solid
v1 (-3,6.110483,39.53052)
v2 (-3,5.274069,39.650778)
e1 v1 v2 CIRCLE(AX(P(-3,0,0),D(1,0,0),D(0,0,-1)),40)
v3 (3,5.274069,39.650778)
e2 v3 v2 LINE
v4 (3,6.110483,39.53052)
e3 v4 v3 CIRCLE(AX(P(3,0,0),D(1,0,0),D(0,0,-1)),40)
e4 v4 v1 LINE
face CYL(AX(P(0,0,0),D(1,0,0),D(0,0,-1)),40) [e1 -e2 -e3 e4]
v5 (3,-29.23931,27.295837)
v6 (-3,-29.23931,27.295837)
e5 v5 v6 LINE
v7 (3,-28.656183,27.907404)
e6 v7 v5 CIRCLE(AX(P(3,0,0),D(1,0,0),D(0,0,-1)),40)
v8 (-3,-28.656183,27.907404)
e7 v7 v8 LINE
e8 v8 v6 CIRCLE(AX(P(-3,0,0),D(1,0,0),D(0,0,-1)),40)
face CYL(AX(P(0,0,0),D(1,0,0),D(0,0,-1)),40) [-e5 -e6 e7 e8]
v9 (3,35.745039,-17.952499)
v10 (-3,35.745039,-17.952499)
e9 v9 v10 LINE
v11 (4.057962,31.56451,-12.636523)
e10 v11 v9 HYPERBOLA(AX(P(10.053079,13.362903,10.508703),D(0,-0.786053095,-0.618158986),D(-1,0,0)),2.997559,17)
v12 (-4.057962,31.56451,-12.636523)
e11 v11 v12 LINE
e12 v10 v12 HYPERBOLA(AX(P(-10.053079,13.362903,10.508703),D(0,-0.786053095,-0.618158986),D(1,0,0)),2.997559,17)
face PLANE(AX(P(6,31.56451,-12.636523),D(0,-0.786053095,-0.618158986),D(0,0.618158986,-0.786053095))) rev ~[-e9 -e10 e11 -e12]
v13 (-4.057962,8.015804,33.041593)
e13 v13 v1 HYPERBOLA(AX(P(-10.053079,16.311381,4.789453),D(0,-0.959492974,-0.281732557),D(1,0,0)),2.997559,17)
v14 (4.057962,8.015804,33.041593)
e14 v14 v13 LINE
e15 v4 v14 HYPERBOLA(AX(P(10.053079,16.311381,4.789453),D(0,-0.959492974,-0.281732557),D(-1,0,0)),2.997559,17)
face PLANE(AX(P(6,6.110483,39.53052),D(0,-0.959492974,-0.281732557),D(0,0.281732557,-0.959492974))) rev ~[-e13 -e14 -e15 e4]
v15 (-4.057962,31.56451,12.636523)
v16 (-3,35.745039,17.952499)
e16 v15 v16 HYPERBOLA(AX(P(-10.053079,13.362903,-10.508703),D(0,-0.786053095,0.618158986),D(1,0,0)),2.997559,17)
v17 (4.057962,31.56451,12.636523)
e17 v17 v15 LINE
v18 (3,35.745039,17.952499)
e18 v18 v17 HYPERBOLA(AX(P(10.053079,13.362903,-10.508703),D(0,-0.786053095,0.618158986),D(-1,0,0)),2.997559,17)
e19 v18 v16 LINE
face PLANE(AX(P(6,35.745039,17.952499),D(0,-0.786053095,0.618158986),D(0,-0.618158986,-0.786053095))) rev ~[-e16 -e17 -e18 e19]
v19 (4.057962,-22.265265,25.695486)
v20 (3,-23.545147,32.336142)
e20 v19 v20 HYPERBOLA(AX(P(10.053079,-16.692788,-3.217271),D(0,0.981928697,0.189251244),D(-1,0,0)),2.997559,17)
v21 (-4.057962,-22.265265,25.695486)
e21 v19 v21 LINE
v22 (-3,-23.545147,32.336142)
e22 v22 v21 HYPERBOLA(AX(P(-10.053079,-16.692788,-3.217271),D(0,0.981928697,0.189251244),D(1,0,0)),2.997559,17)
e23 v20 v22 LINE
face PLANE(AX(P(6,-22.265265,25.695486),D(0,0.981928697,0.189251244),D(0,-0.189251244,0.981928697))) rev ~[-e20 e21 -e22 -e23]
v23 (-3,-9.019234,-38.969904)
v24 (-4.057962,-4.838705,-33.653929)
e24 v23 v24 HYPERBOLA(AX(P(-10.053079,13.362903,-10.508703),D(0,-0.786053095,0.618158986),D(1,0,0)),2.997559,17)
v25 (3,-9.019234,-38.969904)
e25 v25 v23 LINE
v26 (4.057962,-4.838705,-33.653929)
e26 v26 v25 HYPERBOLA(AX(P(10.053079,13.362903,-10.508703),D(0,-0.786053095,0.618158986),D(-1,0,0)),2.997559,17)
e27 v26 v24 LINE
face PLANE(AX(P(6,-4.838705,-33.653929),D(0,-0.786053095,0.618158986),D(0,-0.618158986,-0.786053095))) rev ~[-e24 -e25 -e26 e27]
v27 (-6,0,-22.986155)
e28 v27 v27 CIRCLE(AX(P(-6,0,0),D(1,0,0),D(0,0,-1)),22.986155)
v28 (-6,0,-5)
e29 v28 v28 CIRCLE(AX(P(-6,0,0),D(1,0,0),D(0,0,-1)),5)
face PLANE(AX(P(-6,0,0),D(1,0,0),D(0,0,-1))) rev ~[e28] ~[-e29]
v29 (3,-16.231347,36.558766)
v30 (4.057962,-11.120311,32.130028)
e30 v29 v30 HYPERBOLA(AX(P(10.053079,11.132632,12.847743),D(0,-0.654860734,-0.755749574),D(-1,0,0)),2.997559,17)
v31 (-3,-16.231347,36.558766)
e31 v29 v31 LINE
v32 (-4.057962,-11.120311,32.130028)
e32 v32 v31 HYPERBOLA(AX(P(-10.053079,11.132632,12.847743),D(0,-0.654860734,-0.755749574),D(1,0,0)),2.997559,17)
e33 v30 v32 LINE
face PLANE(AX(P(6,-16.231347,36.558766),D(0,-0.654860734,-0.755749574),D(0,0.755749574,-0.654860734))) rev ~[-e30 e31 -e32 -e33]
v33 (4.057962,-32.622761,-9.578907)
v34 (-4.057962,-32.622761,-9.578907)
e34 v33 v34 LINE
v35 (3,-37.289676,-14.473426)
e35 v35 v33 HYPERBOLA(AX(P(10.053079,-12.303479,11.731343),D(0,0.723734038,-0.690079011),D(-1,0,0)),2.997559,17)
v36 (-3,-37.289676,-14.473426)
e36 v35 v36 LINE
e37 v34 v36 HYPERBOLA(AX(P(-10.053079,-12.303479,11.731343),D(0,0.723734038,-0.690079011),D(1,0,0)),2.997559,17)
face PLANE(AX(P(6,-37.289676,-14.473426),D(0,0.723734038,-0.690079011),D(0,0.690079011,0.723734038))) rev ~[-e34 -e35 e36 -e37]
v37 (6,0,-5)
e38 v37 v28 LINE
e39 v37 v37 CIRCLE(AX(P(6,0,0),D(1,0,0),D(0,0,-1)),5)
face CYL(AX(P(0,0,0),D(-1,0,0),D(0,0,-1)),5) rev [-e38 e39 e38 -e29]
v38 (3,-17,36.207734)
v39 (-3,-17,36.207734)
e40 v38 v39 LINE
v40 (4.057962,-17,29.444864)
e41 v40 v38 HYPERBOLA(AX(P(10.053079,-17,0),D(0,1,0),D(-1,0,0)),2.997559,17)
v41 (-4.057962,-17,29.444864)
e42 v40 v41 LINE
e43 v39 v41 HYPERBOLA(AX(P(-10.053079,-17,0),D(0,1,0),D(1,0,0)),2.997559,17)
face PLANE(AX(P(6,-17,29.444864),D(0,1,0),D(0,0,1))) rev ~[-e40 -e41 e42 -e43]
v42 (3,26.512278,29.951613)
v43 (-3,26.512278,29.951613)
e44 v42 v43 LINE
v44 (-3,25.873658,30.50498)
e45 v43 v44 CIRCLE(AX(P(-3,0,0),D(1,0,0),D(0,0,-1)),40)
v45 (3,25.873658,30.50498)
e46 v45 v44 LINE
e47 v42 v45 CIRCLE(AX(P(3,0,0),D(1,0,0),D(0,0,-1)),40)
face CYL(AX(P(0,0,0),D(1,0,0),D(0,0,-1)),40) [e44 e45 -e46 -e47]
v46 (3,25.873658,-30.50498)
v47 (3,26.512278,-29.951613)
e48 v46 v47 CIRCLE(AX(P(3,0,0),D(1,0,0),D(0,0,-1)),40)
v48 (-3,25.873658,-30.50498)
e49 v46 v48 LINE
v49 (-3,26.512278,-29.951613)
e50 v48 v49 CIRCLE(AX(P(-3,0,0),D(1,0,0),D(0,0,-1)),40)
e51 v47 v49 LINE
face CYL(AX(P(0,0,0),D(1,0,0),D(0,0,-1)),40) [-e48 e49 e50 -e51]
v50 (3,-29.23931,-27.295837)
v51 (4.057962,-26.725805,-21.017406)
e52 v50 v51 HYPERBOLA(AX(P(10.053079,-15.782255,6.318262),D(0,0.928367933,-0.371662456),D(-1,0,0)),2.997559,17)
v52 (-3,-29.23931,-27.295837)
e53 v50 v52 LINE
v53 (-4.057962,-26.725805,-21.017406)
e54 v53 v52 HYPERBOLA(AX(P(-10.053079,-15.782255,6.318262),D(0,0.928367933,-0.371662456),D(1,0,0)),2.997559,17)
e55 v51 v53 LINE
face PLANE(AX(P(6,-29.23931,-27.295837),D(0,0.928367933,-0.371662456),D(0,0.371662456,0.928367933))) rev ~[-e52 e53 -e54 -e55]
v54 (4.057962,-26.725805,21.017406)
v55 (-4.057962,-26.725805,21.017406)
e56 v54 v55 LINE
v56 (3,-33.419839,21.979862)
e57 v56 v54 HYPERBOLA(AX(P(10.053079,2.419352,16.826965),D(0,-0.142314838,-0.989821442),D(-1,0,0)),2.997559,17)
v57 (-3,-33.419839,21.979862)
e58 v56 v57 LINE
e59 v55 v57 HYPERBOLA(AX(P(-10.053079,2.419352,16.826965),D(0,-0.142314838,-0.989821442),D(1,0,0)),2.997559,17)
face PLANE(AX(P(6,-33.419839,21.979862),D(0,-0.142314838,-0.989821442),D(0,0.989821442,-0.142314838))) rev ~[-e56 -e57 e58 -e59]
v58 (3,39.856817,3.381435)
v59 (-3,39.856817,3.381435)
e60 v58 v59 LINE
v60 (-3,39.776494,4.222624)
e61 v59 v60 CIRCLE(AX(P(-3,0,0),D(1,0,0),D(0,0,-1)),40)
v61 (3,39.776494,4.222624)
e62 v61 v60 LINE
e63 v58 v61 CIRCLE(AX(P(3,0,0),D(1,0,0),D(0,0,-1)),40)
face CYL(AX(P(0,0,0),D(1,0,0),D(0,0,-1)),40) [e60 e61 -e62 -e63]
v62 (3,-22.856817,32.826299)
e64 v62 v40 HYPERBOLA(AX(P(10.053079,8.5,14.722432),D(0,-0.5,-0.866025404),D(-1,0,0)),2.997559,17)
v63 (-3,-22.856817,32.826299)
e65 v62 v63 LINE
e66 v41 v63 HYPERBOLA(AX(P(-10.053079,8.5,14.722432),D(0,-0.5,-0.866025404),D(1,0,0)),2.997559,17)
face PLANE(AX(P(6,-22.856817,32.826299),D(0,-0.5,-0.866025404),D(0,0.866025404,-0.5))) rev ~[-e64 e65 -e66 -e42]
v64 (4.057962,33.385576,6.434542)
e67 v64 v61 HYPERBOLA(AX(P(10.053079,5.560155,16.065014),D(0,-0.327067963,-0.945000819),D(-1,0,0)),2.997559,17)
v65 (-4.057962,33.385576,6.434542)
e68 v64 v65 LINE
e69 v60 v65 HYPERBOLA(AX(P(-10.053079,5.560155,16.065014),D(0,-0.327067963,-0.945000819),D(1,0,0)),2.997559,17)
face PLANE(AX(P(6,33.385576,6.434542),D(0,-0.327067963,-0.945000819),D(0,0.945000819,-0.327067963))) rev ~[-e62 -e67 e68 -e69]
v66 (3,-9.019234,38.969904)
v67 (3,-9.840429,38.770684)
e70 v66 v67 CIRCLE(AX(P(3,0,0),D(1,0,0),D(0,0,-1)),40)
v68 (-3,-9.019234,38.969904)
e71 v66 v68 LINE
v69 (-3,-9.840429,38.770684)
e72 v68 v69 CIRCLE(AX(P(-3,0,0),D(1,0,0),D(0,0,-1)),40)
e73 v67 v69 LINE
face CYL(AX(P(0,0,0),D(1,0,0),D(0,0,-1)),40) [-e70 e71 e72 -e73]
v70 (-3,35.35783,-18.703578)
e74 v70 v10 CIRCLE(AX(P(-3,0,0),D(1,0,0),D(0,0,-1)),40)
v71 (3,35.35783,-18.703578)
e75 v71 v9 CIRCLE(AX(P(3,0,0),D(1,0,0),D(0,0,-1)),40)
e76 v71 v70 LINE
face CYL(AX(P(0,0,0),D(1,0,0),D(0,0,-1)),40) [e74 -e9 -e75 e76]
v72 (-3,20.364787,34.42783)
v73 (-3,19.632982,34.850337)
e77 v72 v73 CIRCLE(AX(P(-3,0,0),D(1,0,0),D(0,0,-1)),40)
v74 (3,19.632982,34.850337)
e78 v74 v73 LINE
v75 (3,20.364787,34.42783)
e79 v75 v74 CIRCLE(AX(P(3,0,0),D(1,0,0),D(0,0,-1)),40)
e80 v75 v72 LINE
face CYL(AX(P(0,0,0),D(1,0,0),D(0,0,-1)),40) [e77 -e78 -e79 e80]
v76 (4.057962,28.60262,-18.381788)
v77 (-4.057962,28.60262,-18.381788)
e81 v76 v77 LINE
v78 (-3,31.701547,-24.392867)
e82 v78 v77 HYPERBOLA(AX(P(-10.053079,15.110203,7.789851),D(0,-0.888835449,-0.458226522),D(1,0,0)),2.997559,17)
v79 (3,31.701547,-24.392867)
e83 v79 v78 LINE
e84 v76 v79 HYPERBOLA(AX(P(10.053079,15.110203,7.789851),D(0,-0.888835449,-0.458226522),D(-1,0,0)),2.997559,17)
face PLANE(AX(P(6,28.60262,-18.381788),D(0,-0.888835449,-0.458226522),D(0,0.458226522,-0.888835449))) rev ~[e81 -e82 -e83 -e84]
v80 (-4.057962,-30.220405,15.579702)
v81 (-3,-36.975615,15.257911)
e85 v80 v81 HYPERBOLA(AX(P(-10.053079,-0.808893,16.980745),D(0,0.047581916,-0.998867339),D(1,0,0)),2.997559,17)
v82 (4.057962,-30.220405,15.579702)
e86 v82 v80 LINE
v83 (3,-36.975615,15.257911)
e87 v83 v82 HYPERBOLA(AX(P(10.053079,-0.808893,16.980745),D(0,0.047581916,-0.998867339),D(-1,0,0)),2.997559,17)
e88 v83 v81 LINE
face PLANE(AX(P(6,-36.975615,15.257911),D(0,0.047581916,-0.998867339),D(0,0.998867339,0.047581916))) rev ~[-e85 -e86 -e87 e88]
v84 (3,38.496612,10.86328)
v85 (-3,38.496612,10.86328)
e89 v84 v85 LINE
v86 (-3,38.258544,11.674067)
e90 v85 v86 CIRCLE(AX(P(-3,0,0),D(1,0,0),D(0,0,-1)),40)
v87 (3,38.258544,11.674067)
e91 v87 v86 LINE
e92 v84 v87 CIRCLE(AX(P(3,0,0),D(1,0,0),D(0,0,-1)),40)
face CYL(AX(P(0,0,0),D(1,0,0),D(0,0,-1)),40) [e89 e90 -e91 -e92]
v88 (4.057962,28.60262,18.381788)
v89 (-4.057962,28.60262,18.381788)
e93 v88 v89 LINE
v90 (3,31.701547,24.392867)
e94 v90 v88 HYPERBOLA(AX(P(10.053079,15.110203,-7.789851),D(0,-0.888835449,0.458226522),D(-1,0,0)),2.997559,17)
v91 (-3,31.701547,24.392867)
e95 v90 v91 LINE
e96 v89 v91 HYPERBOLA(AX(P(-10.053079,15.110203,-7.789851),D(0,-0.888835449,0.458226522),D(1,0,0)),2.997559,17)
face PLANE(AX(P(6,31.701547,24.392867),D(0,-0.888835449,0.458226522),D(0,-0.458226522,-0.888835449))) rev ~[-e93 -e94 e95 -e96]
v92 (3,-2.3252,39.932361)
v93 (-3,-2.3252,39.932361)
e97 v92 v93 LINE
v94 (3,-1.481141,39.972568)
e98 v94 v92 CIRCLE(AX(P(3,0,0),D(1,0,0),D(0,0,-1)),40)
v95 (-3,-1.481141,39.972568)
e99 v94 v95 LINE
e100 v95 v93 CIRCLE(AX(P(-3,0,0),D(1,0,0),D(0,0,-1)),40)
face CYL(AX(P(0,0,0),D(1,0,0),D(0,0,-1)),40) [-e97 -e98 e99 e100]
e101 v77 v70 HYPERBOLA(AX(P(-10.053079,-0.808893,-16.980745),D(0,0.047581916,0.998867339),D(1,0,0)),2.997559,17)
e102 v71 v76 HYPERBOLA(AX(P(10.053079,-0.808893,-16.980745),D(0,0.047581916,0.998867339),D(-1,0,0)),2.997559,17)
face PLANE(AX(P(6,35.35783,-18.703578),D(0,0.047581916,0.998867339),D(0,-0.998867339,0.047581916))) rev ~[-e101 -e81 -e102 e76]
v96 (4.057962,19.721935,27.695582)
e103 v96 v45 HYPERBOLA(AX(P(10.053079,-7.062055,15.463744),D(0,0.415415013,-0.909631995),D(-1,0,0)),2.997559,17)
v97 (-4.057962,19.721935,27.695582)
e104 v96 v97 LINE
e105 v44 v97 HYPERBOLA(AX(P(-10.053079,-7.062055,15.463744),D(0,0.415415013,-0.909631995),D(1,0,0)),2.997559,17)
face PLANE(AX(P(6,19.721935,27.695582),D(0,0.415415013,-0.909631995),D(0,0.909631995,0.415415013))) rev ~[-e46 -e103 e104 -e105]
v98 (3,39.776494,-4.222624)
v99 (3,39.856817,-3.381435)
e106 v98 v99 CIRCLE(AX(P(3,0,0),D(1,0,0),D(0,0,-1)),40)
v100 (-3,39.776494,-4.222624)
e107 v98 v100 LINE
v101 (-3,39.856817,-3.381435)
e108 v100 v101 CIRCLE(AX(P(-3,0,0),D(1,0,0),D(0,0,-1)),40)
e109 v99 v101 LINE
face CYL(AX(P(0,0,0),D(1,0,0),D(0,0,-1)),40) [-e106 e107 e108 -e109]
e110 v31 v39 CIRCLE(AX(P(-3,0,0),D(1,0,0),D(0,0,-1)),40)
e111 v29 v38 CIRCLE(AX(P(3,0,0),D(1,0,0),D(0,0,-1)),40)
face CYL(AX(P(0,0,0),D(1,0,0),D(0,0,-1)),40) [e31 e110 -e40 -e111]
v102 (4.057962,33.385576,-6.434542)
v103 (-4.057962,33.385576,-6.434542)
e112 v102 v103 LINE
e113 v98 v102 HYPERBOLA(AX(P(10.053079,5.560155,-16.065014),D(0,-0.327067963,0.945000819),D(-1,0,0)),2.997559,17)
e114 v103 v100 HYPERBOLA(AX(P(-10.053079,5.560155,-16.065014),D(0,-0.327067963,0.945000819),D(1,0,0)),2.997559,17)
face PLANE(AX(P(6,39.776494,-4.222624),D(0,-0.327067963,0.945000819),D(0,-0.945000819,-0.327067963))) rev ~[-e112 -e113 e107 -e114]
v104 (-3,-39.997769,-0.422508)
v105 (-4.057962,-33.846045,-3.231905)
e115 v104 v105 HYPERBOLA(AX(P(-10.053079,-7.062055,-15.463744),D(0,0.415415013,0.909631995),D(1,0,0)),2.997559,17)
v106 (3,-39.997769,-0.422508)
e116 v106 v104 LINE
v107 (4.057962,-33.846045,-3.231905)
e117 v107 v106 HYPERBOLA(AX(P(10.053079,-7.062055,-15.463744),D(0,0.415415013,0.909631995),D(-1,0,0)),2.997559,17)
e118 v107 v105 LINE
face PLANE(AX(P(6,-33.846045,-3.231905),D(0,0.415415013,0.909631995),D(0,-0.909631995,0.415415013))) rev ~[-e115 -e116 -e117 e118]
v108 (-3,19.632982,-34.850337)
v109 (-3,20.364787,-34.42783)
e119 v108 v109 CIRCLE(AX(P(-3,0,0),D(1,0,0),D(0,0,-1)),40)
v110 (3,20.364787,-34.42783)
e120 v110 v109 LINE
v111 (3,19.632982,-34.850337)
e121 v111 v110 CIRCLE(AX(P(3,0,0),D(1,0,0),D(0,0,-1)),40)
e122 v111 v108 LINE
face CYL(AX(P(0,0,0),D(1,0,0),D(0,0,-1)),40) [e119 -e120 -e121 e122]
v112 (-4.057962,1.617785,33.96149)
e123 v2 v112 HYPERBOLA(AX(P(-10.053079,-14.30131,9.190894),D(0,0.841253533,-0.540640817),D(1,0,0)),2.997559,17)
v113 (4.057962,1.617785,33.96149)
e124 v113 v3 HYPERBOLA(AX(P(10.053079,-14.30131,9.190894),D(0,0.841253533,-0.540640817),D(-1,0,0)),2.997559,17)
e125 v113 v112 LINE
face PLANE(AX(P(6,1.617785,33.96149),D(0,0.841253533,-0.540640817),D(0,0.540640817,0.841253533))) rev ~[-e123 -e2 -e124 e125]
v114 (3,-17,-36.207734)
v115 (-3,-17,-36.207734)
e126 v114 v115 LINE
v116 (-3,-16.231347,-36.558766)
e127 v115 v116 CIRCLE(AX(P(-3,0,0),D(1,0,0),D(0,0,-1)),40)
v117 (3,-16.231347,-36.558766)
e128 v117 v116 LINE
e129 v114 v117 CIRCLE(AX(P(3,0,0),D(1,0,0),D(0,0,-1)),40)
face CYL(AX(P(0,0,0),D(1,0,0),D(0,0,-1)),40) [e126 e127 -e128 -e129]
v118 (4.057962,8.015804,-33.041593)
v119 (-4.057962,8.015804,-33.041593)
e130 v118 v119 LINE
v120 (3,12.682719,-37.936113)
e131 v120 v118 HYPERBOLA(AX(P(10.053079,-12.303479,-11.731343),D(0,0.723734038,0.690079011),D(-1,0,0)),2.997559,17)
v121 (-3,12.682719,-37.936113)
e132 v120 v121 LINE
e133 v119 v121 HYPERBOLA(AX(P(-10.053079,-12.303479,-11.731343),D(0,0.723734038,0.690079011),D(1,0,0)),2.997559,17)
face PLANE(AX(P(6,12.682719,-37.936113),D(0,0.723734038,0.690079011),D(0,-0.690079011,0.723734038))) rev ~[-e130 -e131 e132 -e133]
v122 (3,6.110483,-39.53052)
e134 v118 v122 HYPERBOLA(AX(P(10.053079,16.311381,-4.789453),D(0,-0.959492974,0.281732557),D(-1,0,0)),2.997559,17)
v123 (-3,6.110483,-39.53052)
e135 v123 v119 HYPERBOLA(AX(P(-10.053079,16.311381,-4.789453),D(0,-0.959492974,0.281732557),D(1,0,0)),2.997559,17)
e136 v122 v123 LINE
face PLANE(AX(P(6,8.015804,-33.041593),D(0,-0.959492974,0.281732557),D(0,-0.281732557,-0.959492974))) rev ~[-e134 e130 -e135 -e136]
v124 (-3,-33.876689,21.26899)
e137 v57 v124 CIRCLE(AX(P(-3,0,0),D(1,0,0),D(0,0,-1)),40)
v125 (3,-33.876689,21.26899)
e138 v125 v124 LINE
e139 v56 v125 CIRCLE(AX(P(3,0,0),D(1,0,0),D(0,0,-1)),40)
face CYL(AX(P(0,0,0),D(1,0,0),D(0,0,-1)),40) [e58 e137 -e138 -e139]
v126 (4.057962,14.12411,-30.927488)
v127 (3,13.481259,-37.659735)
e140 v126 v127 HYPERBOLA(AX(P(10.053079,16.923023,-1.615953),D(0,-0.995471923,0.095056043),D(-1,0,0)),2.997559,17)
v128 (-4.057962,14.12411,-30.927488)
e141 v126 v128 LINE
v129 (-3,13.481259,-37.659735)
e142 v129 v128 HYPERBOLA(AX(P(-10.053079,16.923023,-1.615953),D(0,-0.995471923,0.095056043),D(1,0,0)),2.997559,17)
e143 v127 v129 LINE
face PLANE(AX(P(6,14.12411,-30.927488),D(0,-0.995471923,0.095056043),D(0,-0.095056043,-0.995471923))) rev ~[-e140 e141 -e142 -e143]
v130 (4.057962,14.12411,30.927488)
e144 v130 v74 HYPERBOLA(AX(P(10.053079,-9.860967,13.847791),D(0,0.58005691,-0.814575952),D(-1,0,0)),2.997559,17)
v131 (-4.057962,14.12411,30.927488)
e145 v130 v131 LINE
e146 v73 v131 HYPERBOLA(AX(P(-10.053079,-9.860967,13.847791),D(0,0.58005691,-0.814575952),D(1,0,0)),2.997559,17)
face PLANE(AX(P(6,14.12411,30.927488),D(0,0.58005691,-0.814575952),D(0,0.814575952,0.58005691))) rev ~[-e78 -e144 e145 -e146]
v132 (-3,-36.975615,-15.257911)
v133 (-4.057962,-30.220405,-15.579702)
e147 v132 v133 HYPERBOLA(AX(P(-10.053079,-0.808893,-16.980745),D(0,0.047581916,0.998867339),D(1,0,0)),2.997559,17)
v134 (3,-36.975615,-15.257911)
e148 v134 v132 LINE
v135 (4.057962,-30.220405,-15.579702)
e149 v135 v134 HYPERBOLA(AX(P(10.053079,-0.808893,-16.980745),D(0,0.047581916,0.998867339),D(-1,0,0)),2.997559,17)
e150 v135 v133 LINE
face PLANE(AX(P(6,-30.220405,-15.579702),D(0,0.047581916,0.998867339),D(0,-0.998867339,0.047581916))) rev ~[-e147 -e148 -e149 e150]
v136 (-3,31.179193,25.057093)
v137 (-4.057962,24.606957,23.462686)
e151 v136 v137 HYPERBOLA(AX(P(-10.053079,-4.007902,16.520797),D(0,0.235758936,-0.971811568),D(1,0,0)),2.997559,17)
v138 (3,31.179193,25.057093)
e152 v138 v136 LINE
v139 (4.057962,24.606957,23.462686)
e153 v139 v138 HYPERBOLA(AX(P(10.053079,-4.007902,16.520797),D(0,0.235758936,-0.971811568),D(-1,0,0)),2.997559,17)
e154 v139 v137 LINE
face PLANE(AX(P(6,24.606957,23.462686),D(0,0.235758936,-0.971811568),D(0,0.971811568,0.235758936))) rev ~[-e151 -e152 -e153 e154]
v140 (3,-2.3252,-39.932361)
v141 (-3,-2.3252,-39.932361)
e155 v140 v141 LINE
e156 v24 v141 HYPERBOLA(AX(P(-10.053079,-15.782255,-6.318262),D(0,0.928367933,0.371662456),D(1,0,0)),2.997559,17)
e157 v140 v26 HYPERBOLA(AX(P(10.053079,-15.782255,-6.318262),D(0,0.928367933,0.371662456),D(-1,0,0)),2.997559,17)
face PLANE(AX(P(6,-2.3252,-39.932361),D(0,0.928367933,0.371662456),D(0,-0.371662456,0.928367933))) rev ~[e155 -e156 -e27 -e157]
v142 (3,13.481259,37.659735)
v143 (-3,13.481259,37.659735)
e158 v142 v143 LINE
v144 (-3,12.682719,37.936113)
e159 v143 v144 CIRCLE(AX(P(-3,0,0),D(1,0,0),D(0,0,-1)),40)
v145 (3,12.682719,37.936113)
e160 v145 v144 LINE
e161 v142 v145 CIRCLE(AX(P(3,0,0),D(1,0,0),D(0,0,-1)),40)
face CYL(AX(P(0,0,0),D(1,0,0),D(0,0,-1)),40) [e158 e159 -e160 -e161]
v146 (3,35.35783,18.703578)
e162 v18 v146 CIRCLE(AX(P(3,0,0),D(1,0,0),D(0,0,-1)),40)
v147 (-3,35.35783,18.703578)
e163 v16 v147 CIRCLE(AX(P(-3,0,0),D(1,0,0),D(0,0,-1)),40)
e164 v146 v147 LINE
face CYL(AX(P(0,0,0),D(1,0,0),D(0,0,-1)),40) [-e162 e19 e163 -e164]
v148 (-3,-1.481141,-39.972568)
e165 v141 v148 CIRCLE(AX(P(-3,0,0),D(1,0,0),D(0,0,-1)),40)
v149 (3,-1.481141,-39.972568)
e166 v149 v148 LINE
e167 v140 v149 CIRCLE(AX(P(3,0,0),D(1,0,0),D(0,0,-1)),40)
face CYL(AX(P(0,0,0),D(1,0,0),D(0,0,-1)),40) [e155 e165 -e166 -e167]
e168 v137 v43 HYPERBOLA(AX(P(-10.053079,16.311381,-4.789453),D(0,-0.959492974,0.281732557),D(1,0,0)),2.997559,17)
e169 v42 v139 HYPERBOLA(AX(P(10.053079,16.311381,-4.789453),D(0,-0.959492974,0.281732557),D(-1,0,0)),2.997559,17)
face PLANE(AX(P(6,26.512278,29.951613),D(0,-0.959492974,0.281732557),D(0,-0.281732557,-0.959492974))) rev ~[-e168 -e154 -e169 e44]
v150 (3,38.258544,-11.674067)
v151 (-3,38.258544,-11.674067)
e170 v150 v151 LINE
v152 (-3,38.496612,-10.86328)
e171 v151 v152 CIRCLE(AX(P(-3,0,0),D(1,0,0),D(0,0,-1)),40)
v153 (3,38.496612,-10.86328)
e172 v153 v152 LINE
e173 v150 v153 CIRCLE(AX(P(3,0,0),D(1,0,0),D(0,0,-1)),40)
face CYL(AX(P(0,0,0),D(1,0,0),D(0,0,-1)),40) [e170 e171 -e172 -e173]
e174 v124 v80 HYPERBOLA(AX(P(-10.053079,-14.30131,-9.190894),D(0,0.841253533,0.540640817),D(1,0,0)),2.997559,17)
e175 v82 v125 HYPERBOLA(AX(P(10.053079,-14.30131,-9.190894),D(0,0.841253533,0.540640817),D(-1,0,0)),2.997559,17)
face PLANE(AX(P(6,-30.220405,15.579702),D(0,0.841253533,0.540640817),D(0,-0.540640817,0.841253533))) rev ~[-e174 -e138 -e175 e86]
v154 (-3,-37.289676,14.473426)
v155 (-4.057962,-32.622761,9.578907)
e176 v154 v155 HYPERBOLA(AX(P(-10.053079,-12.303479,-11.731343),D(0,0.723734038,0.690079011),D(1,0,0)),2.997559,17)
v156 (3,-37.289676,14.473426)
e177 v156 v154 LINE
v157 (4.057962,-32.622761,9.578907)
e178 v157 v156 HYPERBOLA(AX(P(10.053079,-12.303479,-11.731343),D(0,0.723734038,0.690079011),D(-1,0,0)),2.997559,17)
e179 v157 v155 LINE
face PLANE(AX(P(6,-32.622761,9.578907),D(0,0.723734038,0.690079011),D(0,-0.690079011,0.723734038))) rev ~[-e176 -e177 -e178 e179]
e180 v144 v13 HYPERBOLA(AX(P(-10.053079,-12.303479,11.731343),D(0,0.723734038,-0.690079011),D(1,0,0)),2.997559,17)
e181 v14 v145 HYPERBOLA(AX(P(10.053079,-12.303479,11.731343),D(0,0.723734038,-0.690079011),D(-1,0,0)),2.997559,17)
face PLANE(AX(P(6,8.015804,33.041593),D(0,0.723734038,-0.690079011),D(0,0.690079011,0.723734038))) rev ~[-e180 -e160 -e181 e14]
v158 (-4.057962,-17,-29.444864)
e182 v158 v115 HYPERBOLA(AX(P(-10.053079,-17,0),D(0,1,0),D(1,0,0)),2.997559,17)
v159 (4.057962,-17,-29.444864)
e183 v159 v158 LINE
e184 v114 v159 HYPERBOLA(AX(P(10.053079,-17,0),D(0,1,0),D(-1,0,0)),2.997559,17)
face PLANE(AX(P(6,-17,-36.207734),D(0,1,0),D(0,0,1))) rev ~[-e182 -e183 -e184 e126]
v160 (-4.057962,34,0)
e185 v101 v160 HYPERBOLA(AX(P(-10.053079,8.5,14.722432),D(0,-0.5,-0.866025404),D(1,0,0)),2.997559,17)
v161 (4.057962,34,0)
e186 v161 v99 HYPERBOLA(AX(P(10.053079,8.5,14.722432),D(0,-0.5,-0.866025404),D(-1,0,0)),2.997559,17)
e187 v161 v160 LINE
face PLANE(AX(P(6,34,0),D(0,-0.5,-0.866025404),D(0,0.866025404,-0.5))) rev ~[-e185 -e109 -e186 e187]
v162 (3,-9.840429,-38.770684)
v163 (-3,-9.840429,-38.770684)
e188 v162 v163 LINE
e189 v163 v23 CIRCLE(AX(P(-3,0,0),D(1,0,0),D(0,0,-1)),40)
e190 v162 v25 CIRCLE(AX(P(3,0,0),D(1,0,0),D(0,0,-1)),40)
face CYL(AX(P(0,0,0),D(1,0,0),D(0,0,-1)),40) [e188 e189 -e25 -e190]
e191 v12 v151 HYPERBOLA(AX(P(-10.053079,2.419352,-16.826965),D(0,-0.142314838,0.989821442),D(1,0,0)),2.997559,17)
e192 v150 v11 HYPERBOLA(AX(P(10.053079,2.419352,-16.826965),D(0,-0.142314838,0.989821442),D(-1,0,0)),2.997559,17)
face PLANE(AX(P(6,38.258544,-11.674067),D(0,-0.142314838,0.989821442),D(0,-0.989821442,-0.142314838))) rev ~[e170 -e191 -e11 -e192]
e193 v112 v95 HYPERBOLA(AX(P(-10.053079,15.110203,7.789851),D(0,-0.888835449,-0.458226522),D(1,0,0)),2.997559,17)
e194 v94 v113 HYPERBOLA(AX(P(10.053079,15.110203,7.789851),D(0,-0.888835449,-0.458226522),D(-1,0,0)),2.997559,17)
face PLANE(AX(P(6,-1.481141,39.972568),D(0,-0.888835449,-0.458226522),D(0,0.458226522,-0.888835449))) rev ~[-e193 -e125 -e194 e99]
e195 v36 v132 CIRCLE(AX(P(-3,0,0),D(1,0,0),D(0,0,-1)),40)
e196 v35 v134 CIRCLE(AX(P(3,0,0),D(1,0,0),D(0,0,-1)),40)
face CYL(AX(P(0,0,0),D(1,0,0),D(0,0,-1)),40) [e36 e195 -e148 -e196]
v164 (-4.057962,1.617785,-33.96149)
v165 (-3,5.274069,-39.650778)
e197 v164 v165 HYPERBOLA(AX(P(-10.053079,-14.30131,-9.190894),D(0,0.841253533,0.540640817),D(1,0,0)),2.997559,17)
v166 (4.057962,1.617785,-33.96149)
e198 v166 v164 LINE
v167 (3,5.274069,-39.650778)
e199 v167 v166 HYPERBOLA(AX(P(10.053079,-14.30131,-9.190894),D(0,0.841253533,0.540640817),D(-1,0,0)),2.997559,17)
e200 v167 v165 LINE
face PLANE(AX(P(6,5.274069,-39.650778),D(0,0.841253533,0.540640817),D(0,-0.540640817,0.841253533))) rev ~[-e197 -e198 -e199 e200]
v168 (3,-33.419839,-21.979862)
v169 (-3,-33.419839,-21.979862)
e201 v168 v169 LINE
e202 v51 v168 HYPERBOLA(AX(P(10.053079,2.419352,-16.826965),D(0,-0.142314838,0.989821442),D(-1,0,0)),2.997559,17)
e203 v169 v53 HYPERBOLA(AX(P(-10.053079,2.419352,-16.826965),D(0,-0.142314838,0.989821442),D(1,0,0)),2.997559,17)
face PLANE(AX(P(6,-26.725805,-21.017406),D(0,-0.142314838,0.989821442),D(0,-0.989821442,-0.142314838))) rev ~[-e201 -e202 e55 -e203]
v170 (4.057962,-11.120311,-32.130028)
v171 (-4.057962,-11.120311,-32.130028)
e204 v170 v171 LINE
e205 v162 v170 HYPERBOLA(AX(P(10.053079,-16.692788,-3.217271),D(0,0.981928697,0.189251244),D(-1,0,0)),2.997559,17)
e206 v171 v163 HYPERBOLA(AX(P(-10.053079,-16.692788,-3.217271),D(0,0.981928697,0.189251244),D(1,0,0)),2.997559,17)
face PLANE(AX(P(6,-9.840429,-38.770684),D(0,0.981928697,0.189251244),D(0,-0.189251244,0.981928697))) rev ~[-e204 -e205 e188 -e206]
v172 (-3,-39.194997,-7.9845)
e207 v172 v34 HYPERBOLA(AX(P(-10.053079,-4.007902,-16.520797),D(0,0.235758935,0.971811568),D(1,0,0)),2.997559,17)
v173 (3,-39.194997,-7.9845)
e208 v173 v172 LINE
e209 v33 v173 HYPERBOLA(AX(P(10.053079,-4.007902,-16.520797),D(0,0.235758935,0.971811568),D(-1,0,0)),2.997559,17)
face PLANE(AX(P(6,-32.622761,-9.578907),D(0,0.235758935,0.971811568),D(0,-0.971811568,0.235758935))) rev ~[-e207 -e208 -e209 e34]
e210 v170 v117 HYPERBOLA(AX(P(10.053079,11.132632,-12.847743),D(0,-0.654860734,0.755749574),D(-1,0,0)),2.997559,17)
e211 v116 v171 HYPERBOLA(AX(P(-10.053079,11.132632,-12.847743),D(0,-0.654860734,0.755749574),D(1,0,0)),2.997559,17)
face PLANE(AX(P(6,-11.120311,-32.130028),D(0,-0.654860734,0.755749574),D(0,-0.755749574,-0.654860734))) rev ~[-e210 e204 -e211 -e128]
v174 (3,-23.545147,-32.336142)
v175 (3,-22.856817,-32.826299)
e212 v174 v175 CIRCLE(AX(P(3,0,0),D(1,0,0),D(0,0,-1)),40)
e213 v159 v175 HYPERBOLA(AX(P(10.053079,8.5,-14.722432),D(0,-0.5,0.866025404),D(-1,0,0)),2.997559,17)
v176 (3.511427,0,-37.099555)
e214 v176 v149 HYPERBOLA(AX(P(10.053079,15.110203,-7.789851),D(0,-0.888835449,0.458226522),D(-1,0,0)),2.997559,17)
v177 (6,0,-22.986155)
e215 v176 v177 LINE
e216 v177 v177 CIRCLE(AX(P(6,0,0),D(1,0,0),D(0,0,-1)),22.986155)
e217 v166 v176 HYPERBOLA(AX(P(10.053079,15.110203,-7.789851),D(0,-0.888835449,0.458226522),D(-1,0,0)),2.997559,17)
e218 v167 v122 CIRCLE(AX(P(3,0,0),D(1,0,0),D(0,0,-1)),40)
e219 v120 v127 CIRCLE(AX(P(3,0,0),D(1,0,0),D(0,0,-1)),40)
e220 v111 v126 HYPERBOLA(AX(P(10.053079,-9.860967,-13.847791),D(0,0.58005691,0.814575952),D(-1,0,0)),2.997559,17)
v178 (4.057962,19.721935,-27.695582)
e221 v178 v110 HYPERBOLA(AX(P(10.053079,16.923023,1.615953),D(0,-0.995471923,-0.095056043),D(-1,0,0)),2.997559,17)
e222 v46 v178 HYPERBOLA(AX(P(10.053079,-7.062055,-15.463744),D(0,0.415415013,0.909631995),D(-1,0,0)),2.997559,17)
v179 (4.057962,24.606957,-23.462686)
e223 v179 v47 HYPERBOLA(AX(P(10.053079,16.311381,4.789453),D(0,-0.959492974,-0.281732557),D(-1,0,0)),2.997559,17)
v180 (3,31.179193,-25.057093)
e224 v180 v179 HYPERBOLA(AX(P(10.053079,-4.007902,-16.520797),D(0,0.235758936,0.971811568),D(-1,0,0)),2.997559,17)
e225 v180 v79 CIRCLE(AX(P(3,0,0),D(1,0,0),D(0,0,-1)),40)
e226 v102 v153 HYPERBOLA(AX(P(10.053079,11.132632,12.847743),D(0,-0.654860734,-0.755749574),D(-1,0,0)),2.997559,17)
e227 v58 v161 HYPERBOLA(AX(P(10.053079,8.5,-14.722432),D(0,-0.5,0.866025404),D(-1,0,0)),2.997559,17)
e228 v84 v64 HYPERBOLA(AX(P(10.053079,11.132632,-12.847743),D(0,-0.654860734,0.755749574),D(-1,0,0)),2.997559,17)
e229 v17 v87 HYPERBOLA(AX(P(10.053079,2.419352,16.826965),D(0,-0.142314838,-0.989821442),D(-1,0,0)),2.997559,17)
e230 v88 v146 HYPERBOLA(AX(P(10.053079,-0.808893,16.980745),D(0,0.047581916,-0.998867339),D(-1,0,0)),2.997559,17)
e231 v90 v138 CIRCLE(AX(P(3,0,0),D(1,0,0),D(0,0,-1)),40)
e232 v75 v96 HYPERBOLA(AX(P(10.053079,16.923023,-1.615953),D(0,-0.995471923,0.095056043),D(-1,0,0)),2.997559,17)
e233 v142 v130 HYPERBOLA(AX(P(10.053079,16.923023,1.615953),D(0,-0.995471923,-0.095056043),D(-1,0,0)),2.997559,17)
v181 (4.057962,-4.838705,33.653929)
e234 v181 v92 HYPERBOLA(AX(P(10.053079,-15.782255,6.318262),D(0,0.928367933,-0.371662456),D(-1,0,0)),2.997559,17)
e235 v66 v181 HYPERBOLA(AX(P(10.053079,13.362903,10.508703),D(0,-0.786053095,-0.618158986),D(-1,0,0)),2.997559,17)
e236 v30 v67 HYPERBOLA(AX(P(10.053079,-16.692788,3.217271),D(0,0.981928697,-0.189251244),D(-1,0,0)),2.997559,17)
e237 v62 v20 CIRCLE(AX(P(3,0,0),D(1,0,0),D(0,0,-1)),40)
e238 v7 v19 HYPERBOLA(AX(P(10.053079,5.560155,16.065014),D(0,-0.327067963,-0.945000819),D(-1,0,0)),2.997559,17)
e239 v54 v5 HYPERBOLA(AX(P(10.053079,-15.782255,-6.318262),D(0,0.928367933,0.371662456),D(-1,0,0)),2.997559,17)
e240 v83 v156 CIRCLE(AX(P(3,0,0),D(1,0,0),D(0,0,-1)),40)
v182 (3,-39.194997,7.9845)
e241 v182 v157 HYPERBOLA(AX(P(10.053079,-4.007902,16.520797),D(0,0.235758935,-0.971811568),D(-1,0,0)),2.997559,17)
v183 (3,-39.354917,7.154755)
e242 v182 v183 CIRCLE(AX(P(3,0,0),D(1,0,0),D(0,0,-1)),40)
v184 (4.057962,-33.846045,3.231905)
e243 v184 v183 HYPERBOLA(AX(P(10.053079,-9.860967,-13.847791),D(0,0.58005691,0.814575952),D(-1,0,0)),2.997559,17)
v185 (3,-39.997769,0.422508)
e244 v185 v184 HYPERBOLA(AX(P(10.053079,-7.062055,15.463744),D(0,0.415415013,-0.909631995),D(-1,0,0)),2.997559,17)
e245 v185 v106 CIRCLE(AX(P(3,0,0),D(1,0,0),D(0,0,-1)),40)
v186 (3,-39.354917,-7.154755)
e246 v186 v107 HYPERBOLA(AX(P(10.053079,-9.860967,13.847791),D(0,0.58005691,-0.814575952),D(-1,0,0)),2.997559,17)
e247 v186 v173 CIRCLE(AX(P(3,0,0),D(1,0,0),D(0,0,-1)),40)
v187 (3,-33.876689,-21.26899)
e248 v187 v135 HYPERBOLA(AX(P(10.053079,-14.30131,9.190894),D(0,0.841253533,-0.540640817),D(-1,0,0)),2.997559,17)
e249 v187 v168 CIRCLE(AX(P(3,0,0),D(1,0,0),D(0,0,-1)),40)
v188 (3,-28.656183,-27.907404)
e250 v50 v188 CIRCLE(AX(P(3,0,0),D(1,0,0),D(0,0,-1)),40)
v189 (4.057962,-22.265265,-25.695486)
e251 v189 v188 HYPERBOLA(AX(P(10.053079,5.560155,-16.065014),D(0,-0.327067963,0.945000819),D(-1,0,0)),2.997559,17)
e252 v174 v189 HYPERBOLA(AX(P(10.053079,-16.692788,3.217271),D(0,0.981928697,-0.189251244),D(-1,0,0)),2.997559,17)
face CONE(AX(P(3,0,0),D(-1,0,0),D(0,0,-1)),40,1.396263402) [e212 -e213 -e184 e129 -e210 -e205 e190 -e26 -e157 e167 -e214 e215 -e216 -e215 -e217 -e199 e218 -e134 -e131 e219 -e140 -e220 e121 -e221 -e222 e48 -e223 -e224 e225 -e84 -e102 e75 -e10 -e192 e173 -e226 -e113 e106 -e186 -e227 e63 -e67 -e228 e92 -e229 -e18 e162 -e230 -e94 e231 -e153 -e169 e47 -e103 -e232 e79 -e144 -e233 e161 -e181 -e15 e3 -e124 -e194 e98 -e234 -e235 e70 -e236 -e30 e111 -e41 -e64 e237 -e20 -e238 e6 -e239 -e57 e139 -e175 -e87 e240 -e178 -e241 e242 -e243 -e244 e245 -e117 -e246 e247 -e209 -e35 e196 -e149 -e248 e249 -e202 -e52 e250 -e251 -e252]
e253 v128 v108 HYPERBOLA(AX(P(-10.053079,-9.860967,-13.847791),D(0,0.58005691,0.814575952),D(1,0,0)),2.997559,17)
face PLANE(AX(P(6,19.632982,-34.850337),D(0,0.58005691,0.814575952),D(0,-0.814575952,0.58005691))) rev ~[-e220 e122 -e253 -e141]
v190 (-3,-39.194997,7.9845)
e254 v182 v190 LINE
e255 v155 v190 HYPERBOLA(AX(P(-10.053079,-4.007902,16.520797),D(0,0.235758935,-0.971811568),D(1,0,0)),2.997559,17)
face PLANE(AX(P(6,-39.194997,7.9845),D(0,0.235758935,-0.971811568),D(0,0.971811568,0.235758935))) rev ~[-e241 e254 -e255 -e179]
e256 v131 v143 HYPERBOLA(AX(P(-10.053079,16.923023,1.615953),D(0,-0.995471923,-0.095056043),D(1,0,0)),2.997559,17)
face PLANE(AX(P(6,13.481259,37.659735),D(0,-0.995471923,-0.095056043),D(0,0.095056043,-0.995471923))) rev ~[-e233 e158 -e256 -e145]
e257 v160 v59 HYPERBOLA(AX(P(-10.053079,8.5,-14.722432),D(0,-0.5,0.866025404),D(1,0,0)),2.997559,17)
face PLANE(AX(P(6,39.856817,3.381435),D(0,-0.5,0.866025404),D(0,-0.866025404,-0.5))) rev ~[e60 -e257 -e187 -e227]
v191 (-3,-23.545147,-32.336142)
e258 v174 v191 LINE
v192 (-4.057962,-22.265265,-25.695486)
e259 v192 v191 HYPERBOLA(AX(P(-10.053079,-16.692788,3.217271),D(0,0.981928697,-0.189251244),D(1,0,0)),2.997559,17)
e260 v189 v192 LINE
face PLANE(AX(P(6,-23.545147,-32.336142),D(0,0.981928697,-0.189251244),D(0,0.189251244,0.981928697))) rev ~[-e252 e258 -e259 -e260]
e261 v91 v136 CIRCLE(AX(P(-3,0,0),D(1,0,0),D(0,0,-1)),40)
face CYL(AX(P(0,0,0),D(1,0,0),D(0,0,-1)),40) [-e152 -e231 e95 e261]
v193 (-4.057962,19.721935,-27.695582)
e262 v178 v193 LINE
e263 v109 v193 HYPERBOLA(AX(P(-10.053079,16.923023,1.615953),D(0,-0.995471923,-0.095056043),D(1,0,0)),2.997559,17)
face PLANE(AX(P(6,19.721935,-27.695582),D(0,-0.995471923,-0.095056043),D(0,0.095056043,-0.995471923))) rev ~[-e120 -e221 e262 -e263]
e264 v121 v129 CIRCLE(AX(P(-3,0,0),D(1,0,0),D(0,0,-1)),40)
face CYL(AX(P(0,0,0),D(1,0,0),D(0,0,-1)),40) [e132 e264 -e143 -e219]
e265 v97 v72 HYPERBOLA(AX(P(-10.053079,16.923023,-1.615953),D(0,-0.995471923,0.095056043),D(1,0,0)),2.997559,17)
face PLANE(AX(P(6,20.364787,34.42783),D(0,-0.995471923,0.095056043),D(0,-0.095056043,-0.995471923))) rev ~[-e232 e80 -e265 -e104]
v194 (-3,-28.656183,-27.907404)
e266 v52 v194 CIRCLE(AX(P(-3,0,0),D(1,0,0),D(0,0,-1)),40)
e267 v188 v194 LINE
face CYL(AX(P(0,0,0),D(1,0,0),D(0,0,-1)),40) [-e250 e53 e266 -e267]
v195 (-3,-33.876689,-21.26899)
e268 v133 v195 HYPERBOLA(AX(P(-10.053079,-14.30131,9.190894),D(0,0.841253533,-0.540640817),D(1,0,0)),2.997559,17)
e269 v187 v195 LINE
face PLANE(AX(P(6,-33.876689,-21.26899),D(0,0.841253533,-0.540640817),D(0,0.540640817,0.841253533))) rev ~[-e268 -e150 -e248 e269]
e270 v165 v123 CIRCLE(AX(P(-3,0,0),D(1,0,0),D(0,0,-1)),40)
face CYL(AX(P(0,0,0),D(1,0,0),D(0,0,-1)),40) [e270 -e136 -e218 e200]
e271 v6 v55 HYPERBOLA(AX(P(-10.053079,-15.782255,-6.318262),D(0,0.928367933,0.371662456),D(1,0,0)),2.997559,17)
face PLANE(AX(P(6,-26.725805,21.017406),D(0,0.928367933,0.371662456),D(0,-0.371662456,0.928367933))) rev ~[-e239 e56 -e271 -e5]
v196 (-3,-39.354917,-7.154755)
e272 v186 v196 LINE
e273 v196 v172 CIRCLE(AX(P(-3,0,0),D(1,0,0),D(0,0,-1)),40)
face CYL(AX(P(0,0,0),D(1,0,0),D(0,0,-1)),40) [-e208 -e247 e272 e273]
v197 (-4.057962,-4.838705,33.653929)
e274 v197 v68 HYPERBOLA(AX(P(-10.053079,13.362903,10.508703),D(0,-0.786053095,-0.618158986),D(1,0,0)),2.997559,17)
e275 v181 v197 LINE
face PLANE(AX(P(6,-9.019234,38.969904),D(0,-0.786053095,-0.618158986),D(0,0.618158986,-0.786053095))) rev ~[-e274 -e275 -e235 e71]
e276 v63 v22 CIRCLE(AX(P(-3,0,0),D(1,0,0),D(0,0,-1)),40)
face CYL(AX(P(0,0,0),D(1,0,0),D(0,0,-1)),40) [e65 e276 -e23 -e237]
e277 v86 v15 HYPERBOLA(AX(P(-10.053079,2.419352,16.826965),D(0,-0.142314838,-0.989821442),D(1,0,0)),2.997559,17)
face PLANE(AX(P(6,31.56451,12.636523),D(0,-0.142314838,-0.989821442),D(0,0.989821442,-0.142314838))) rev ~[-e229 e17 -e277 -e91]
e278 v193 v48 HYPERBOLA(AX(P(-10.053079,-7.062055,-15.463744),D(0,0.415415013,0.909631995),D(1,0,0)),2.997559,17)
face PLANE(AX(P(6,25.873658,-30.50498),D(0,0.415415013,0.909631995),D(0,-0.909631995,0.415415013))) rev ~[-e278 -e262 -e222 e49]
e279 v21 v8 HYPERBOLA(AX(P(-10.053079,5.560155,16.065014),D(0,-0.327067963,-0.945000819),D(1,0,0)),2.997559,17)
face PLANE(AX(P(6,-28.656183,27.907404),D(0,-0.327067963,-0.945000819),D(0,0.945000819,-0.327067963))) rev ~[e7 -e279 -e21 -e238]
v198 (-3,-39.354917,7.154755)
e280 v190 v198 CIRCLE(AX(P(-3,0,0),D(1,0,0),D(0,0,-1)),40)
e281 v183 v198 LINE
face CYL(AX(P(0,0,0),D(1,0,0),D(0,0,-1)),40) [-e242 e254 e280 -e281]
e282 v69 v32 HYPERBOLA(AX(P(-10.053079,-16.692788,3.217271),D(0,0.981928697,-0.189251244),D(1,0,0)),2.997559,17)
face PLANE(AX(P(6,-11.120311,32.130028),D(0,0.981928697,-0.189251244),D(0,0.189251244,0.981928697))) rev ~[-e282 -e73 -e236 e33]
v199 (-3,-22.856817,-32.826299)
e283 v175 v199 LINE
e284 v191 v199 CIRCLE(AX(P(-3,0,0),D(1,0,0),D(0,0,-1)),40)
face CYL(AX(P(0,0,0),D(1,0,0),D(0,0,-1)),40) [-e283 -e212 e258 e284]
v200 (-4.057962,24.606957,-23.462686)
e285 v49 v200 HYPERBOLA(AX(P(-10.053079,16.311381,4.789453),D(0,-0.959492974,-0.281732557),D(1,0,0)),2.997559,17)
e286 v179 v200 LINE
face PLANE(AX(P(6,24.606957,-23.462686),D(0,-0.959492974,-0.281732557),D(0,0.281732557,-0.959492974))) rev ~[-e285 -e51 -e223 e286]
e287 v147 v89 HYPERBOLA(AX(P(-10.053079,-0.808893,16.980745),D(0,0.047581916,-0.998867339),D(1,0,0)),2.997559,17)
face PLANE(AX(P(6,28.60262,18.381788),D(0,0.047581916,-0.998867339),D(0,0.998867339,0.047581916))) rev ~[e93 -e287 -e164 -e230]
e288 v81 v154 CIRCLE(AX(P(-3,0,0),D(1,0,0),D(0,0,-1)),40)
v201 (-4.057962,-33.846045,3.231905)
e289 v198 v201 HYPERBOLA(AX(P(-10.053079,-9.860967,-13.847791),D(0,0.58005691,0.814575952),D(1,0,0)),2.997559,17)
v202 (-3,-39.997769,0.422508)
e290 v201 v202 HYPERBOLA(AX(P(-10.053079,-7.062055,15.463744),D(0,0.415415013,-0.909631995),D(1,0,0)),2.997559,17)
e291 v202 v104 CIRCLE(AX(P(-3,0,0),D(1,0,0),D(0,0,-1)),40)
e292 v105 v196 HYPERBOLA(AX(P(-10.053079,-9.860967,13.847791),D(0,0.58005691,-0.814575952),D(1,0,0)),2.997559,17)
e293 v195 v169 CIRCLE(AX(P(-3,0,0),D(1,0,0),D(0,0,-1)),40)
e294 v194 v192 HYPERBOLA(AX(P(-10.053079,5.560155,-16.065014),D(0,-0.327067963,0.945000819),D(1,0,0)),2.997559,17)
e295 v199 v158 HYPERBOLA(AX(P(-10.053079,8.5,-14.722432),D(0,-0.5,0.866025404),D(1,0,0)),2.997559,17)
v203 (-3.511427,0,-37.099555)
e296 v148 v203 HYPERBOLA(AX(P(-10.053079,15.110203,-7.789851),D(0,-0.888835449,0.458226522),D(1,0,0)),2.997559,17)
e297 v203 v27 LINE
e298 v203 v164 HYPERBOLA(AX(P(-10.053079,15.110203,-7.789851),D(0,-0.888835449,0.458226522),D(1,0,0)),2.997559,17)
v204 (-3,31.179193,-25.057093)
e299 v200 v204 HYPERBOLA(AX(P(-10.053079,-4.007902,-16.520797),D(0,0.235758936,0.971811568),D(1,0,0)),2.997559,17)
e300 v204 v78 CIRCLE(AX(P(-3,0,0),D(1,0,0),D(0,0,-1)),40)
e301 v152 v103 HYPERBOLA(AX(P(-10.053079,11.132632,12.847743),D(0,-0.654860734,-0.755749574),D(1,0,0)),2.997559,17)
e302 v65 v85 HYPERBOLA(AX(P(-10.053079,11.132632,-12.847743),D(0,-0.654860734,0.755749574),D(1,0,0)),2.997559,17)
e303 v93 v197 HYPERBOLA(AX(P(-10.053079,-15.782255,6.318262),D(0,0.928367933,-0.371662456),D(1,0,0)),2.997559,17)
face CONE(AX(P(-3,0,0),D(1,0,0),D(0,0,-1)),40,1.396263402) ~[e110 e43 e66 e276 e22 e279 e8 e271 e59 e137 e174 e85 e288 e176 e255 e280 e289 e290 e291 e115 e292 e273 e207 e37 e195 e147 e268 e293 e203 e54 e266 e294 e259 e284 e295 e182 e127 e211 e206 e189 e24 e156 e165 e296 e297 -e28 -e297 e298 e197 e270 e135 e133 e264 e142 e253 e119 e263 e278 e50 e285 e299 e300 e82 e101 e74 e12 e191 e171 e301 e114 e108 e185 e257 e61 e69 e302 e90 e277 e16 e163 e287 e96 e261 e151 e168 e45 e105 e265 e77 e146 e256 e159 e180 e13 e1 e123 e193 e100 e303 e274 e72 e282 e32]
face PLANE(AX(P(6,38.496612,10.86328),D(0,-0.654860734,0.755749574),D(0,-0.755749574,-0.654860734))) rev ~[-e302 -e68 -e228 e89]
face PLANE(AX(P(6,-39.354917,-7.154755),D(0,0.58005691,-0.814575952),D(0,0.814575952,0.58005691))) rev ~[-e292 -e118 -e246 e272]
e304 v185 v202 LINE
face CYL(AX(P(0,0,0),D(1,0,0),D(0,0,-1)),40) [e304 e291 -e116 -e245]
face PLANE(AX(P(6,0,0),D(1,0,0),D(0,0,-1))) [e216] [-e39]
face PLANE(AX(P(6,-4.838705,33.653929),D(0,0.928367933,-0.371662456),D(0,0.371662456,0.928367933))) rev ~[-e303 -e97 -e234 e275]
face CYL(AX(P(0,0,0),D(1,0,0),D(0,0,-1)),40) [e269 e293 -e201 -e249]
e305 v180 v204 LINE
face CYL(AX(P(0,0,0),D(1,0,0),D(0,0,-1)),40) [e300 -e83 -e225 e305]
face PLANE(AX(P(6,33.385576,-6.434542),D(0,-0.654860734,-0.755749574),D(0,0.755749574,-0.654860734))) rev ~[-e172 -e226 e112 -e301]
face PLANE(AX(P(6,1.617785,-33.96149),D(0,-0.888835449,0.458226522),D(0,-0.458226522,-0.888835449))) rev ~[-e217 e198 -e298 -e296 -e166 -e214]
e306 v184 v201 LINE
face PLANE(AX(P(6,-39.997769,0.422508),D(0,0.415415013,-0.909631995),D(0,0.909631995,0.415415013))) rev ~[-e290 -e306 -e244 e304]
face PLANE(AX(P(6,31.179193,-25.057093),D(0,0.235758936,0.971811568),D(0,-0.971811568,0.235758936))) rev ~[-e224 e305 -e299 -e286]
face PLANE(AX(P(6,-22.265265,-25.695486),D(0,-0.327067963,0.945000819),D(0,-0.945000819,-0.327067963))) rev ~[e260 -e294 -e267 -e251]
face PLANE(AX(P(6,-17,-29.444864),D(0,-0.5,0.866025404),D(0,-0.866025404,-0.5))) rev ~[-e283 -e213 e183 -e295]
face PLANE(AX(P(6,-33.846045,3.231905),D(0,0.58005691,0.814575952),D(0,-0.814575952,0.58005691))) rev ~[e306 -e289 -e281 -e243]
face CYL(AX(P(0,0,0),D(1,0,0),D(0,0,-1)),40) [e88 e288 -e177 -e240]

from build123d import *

# Parameters (mm, degrees)
SKETCH1_R           = 40
SKETCH1_R_2         = 5
BOSS_EXTRUDE1_DEPTH = 6
CHAMFER2_SIZE       = 3
CHAMFER2_SIZE2      = 17.013845459
CHAMFER3_SIZE       = 3
CHAMFER3_SIZE2      = 17.013845459
CUT_EXTRUDE2_DEPTH  = 12
CIRPATTERN2_COUNT   = 33


with BuildPart() as part:
    # Sketch1 → Boss-Extrude1 (new body, symmetric)
    with BuildSketch(Plane(origin=(0, 0, 0), x_dir=(0, 0, -1), z_dir=(1, 0, 0))):
        Circle(SKETCH1_R)
        Circle(SKETCH1_R_2, mode=Mode.SUBTRACT)
    extrude(amount=BOSS_EXTRUDE1_DEPTH, both=True)

    # Chamfer2
    chamfer2_edges = [part.edges().sort_by_distance(p)[0] for p in [
        (6, 0, 40),
    ]]
    chamfer2_side = [part.faces().sort_by_distance(p)[0] for p in [
        (0, 0, 40),
    ]]
    chamfer(chamfer2_edges, length=CHAMFER2_SIZE, length2=CHAMFER2_SIZE2, reference=chamfer2_side[0])

    # Chamfer3
    chamfer3_edges = [part.edges().sort_by_distance(p)[0] for p in [
        (-6, 0, 40),
    ]]
    chamfer3_side = [part.faces().sort_by_distance(p)[0] for p in [
        (-1.5, 0, 40),
    ]]
    chamfer(chamfer3_edges, length=CHAMFER3_SIZE, length2=CHAMFER3_SIZE2, reference=chamfer3_side[0])

    # Sketch2 → Cut-Extrude2 (cut)
    with BuildSketch(Plane(origin=(6, 0, 0), x_dir=(0, 0, -1), z_dir=(1, 0, 0))):
        with BuildLine():
            Line((0, 34), (3.381435126, 39.856817441))
            ThreePointArc((3.381435126, 39.856817441), (0, 40.762870252), (-3.381435126, 39.856817441))
            Line((-3.381435126, 39.856817441), (0, 34))
        make_face()
    cut_extrude2 = extrude(amount=-CUT_EXTRUDE2_DEPTH, mode=Mode.SUBTRACT)

    # CirPattern2: Cut-Extrude2 ×33 about axis
    cirpattern2_axis = Axis((0, 0, 0), (1, 0, 0))
    for i in range(1, CIRPATTERN2_COUNT):
        add(cut_extrude2.rotate(cirpattern2_axis, i * 360 / CIRPATTERN2_COUNT), mode=Mode.SUBTRACT)


solid = part.part
